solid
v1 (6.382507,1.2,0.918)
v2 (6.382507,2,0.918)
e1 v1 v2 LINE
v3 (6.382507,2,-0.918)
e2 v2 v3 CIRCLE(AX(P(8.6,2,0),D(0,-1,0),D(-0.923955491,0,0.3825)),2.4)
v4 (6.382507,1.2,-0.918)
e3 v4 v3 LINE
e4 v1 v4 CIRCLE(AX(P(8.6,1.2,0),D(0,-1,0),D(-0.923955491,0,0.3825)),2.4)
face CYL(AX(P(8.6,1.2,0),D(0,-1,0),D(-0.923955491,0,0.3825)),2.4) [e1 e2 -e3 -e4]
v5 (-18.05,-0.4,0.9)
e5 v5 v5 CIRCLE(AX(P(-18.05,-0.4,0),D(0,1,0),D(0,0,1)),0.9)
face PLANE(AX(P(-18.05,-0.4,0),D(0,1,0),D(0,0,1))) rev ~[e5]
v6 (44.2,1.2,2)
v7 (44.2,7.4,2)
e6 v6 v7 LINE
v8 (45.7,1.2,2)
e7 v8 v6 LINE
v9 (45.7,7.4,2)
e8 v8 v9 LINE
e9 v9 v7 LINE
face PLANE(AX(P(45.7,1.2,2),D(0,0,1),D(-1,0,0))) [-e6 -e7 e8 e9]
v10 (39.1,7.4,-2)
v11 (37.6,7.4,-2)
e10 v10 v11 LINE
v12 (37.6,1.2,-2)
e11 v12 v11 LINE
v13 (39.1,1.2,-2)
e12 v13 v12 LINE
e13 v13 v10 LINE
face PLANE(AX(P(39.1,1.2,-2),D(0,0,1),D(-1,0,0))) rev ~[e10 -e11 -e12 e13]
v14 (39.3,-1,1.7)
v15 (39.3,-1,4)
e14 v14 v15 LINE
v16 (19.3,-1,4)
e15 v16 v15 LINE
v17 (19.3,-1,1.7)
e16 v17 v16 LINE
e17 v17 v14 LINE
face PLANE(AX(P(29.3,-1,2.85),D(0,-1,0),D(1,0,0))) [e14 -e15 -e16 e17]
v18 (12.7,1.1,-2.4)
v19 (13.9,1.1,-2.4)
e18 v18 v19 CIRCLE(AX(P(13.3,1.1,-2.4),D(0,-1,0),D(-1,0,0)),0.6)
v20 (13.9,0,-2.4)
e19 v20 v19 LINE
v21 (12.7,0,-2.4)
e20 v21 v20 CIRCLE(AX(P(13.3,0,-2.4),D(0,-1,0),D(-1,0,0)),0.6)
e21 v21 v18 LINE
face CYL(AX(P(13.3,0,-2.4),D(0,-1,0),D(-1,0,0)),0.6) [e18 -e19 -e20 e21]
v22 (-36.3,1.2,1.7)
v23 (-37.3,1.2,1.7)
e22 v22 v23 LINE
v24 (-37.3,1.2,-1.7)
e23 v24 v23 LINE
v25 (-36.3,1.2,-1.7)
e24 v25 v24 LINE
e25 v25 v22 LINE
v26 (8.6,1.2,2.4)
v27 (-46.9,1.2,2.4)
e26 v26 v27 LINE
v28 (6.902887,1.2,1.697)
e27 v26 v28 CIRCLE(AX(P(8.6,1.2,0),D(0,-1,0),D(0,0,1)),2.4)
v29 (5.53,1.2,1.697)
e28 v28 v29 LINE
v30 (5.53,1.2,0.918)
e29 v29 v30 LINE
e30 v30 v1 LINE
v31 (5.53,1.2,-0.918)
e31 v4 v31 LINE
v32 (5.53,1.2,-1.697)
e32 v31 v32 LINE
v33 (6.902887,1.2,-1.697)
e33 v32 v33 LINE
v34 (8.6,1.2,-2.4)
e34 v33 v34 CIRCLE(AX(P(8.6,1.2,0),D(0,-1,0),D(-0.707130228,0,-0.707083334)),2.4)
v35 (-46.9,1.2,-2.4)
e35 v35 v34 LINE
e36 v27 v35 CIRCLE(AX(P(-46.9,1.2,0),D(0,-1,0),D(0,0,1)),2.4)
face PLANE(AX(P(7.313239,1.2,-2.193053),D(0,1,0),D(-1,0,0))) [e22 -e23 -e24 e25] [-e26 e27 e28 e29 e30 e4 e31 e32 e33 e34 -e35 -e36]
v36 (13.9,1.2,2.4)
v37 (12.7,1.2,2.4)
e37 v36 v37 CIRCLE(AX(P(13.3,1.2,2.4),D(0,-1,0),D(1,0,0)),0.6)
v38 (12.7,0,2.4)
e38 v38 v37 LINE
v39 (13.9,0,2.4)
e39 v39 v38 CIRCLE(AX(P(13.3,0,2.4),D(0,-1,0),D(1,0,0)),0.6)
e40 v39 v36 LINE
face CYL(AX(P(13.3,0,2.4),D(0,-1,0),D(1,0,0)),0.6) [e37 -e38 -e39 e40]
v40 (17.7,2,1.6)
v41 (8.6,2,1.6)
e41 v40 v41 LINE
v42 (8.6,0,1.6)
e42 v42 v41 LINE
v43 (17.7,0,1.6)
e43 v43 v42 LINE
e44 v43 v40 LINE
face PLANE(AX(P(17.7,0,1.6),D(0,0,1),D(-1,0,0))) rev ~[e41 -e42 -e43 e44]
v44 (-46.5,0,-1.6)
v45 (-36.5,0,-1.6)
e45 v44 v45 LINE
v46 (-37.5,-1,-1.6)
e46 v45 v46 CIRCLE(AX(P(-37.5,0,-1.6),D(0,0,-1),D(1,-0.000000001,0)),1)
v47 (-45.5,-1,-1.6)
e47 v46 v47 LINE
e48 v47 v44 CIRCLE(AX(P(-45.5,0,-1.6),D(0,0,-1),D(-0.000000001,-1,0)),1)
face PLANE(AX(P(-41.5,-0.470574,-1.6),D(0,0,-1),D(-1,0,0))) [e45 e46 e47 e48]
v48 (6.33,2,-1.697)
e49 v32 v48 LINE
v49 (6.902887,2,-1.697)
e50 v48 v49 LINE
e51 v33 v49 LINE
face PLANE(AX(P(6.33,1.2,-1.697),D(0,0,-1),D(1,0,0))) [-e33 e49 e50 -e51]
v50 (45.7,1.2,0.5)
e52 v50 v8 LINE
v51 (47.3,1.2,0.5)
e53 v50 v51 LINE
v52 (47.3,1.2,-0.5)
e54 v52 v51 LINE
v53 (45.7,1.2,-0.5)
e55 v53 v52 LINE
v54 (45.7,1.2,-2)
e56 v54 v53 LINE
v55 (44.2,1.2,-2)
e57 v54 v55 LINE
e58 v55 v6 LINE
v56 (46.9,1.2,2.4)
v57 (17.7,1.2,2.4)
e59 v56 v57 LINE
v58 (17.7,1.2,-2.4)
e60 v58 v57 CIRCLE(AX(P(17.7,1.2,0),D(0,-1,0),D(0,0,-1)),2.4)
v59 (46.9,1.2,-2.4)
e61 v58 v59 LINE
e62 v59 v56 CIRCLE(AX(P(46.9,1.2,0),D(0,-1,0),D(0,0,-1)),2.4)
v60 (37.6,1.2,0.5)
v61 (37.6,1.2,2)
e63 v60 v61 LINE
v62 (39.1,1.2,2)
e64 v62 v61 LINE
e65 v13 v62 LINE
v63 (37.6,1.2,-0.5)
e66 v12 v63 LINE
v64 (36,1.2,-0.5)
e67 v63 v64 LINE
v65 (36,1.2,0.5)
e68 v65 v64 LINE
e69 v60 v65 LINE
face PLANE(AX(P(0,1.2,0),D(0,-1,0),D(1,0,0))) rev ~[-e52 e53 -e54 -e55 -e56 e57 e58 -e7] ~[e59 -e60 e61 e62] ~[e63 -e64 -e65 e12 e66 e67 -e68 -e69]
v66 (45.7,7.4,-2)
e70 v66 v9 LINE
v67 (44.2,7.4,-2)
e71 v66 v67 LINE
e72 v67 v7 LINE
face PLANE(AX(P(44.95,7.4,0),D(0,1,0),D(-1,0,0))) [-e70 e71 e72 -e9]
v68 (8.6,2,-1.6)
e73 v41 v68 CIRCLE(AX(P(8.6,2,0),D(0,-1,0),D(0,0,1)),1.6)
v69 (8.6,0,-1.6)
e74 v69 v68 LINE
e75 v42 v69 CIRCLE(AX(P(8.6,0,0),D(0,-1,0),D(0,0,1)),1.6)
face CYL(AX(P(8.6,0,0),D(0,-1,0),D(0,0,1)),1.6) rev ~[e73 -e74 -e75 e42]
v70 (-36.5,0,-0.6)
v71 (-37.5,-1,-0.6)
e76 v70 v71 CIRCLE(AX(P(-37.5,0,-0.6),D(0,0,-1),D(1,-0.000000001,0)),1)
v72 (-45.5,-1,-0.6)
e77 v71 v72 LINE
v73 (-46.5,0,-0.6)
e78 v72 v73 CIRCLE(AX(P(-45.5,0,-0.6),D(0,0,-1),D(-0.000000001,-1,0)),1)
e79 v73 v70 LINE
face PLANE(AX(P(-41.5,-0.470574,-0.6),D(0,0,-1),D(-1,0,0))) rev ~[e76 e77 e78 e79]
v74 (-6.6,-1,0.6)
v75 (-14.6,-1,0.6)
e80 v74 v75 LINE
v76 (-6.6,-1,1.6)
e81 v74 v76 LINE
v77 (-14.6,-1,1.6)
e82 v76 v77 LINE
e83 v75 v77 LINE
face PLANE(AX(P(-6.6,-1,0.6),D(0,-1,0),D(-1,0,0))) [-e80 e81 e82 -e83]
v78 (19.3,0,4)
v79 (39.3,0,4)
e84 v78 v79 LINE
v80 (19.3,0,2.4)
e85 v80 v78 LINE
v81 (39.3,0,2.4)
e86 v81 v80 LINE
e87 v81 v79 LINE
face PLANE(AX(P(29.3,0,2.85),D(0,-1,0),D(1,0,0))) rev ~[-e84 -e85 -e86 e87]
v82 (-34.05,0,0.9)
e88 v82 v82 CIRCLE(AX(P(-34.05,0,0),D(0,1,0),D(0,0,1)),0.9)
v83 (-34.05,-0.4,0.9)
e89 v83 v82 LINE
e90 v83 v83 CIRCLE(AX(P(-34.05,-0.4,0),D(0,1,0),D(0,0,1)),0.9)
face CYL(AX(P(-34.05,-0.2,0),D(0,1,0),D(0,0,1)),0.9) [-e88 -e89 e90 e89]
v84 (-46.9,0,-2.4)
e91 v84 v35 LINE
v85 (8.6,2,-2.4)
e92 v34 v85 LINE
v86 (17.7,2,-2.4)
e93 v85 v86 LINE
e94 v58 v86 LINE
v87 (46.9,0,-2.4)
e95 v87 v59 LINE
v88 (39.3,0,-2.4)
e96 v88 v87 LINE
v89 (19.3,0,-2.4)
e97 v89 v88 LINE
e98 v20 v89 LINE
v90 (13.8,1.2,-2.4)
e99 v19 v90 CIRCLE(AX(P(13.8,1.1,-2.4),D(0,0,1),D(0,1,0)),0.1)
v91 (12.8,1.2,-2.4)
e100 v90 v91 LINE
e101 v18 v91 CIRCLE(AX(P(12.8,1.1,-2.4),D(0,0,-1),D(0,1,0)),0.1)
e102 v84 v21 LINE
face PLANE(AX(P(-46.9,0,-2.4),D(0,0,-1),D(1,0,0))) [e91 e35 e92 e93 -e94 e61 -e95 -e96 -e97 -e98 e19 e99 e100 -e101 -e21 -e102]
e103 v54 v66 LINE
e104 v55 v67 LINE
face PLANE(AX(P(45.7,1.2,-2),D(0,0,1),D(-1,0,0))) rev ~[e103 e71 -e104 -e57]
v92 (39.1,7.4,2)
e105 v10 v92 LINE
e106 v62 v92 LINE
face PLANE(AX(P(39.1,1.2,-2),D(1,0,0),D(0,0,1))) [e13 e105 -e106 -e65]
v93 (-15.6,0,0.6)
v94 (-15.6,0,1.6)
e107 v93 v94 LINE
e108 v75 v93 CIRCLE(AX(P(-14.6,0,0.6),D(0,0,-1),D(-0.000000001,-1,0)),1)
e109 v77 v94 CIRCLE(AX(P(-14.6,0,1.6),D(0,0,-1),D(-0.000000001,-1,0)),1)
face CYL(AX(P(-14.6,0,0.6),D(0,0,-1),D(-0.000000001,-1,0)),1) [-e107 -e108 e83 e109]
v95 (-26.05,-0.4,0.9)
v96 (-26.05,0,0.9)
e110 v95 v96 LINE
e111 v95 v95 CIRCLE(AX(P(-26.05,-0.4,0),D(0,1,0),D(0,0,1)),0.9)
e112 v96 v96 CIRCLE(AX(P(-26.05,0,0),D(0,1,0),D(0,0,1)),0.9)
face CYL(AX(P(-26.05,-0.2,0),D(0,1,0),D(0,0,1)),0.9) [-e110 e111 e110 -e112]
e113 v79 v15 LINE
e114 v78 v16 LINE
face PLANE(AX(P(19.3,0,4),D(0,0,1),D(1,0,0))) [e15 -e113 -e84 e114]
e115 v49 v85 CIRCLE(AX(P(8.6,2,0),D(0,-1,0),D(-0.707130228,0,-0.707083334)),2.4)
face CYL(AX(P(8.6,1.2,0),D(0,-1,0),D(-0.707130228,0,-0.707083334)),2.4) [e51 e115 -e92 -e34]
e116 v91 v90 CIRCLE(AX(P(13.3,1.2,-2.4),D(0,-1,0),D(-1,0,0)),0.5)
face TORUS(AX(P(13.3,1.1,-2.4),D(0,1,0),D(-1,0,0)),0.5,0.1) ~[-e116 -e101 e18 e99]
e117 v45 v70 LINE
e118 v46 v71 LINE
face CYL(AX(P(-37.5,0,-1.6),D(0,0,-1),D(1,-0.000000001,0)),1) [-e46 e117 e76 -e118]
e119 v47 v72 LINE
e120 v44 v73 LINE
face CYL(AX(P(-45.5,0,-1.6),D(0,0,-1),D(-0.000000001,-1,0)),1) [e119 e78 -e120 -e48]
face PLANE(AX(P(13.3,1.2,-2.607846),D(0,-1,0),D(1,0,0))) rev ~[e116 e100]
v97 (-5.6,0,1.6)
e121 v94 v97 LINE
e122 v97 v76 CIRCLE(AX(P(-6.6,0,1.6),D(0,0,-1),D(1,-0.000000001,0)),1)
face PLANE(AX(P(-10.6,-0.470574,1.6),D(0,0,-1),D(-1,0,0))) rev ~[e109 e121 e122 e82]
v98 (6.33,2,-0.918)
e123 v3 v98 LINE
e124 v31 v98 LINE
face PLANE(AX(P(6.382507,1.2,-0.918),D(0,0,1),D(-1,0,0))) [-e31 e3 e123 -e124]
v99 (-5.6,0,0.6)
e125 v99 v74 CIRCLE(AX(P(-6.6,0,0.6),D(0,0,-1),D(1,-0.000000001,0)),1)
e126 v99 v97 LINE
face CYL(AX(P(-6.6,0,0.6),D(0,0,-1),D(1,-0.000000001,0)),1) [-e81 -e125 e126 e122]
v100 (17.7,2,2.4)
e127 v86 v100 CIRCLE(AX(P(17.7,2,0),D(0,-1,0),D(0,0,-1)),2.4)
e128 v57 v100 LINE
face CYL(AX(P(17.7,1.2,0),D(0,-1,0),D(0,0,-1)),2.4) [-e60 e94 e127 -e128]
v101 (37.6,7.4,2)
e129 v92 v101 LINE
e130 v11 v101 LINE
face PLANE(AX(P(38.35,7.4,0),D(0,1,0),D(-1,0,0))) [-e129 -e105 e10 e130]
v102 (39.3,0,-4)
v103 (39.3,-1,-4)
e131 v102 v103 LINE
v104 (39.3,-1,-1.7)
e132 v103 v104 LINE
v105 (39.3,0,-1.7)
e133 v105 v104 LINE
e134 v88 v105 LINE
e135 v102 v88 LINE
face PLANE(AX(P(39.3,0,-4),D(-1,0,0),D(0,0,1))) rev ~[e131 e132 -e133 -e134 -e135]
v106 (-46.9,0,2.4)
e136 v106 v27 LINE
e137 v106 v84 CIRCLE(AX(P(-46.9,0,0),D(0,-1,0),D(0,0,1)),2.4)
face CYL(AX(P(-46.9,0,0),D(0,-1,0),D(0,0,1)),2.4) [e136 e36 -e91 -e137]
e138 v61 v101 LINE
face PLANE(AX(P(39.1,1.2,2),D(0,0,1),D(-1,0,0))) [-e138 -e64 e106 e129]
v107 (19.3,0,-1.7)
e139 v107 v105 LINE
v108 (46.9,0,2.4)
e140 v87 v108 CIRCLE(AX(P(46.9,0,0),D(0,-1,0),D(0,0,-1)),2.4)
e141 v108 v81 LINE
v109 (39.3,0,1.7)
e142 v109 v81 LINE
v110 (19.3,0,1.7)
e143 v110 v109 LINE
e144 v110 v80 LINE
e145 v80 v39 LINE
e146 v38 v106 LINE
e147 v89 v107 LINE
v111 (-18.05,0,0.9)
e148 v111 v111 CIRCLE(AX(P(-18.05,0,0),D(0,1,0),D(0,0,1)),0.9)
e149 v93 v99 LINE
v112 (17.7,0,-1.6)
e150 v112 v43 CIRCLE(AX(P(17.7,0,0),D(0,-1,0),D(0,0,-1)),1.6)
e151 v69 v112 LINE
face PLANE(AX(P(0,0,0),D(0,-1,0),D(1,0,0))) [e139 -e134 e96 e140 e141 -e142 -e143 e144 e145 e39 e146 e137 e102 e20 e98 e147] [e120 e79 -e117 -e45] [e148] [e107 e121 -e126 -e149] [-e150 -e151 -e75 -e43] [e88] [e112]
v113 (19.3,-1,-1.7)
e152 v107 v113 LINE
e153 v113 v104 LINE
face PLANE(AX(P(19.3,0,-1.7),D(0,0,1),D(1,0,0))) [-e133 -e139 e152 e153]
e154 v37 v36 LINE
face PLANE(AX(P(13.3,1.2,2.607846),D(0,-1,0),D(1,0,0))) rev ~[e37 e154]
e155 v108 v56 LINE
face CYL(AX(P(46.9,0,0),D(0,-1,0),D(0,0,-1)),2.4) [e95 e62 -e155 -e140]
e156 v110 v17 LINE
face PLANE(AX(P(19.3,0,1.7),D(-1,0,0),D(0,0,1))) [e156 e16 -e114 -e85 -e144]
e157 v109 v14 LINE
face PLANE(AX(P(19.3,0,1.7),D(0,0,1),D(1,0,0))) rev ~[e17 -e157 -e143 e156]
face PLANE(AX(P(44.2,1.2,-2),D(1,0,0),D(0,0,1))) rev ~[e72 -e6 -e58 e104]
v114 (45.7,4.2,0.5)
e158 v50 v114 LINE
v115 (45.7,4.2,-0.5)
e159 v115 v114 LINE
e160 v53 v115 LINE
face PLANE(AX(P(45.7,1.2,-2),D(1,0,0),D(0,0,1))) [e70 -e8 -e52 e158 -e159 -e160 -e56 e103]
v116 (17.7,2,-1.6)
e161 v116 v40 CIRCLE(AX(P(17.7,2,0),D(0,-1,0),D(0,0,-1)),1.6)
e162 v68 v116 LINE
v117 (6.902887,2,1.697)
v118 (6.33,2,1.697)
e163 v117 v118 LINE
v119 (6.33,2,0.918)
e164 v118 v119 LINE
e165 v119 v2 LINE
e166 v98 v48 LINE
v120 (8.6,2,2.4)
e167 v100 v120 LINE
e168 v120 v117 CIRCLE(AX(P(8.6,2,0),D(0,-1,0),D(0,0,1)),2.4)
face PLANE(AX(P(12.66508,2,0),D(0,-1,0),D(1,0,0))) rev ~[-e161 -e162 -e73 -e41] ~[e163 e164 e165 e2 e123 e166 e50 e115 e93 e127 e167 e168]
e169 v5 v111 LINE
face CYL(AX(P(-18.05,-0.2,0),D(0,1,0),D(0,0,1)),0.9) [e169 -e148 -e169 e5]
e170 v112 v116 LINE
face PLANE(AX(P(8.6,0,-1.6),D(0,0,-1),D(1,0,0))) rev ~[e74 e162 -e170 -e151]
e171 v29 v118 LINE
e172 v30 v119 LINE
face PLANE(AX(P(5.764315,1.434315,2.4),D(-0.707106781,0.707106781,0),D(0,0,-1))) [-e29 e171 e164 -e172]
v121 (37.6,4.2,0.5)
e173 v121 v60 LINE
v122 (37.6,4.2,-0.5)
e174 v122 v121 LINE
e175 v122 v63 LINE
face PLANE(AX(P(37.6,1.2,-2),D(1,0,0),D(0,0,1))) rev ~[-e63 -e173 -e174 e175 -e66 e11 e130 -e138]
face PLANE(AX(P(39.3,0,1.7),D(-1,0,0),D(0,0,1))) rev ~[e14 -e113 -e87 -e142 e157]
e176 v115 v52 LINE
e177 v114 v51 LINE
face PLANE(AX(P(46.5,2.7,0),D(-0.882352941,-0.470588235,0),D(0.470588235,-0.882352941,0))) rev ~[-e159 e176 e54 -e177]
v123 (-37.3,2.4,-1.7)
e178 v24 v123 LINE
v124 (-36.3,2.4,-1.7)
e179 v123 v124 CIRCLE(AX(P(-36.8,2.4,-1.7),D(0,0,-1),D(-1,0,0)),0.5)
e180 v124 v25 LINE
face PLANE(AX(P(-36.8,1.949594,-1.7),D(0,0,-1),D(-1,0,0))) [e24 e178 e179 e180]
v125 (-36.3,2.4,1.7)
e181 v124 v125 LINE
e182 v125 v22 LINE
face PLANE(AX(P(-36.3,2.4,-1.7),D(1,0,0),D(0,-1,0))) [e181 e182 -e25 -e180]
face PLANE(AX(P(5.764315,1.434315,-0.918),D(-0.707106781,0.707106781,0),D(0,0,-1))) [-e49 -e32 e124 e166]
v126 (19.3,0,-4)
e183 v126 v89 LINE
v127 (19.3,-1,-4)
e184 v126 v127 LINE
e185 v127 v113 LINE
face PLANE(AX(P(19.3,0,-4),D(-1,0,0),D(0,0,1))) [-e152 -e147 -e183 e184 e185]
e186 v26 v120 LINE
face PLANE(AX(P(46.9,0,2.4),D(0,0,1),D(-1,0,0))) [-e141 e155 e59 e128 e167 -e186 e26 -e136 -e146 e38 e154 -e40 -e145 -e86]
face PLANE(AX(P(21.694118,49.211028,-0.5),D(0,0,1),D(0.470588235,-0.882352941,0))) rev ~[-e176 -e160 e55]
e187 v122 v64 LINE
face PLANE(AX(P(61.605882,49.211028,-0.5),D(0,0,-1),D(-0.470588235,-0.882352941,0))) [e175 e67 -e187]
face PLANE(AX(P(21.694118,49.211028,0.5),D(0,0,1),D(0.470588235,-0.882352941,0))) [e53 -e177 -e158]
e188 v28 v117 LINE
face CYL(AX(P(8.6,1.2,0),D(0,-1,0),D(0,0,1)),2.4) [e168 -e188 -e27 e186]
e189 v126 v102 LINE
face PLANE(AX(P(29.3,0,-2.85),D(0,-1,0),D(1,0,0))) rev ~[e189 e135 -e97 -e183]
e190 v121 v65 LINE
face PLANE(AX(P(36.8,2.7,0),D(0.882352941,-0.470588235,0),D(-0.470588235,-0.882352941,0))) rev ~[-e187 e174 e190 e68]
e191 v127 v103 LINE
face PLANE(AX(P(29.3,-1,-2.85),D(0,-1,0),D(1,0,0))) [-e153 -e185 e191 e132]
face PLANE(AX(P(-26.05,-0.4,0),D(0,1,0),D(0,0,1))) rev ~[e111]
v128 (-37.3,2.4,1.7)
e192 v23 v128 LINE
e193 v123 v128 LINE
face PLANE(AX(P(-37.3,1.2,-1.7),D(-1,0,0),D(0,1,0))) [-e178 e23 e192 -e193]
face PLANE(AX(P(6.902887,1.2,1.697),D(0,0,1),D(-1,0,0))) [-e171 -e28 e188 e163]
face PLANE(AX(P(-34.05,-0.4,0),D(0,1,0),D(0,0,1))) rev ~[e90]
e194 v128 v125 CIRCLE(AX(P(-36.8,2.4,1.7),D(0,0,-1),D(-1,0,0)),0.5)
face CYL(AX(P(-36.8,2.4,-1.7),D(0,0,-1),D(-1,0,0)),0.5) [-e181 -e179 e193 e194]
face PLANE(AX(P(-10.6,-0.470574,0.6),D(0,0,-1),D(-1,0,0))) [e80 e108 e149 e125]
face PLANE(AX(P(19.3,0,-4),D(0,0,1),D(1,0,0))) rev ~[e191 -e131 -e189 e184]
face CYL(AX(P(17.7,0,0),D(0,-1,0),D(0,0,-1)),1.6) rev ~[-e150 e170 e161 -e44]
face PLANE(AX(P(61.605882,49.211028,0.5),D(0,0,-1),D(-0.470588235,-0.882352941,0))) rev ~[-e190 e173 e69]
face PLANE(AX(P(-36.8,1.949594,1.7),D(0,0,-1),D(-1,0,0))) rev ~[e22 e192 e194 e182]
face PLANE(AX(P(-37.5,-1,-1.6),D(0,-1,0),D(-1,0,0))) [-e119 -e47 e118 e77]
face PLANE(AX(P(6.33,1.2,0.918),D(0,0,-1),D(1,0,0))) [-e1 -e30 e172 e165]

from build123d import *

# Parameters (mm, degrees)
BOSS_EXTRUDE1_DEPTH  = 1.2
BOSS_EXTRUDE2_DEPTH  = 0.8
SKETCH3_W            = 20
SKETCH3_H            = 2.3
BOSS_EXTRUDE3_DEPTH  = 1
SKETCH4_W            = 20
SKETCH4_H            = 2.3
BOSS_EXTRUDE4_DEPTH  = 1
CUT_EXTRUDE1_START   = -0.8
CUT_EXTRUDE1_DEPTH   = 0.8
CUT_EXTRUDE2_START   = -0.8
CUT_EXTRUDE2_DEPTH   = 0.8
CUT_EXTRUDE3_DEPTH   = 50.502424183
BOSS_EXTRUDE5_DEPTH  = 1.2
BOSS_EXTRUDE6_DEPTH  = 1.2
SKETCH10_W           = 1.5
SKETCH10_H           = 4
BOSS_EXTRUDE7_DEPTH  = 6.2
SKETCH11_W           = 1.5
SKETCH11_H           = 4
BOSS_EXTRUDE8_DEPTH  = 6.2
BOSS_EXTRUDE9_DEPTH  = 3.4
BOSS_EXTRUDE10_DEPTH = 1
BOSS_EXTRUDE11_DEPTH = 1
DRAFT1_ANGLE         = 45
SKETCH15_W           = 0.9
SKETCH15_H           = 0.4
SKETCH16_W           = 0.9
SKETCH16_H           = 0.4
SKETCH17_W           = 0.9
SKETCH17_H           = 0.4
RIB1_REACH           = 52.012
SKETCH18_WALL_W      = 105.424996876
SKETCH18_WALL_H      = 1
RIB2_REACH           = 52.012
SKETCH19_WALL_W      = 105.424996876
SKETCH19_WALL_H      = 1
FILLET2_R            = 0.1


with BuildPart() as part:
    # Sketch1 → Boss-Extrude1 (new body)
    with BuildSketch(Plane.XZ):
        with BuildLine():
            Line((46.9, 2.4), (-46.9, 2.4))
            ThreePointArc((-46.9, 2.4), (-49.3, 0), (-46.9, -2.4))
            Line((-46.9, -2.4), (46.9, -2.4))
            ThreePointArc((46.9, -2.4), (49.3, 0), (46.9, 2.4))
        make_face()
    extrude(amount=-BOSS_EXTRUDE1_DEPTH)

    # Sketch2 → Boss-Extrude2 (add)
    with BuildSketch(Plane(origin=(0, 1.2, 0), x_dir=(-1, 0, 0), z_dir=(0, 1, 0))):
        with BuildLine():
            Line((-6.33, 2.4), (-6.33, 0.918))
            Line((-6.33, 0.918), (-6.382506821, 0.918))
            ThreePointArc((-6.382506821, 0.918), (-6.2, 0), (-6.382506821, -0.918))
            Line((-6.382506821, -0.918), (-6.33, -0.918))
            Line((-6.33, -0.918), (-6.33, -2.4))
            Line((-6.33, -2.4), (-17.7, -2.4))
            ThreePointArc((-17.7, -2.4), (-20.1, 0), (-17.7, 2.4))
            Line((-17.7, 2.4), (-6.33, 2.4))
        make_face()
    extrude(amount=BOSS_EXTRUDE2_DEPTH)

    # Sketch3 → Boss-Extrude3 (add)
    with BuildSketch(Plane.XZ):
        with Locations((29.3, 2.85)):
            Rectangle(SKETCH3_W, SKETCH3_H)
    extrude(amount=BOSS_EXTRUDE3_DEPTH)

    # Sketch4 → Boss-Extrude4 (add)
    with BuildSketch(Plane.XZ):
        with Locations((29.3, -2.85)):
            Rectangle(SKETCH4_W, SKETCH4_H)
    extrude(amount=BOSS_EXTRUDE4_DEPTH)

    # Sketch5 → Cut-Extrude1 (cut)
    with BuildSketch(Plane(origin=(0, 2, 0), x_dir=(-1, 0, 0), z_dir=(0, 1, 0)).offset(CUT_EXTRUDE1_START)):
        with BuildLine():
            Line((-8.6, -2.4), (-6.33, -2.4))
            Line((-6.33, -2.4), (-6.33, -1.697))
            Line((-6.33, -1.697), (-6.902887452, -1.697))
            ThreePointArc((-6.902887452, -1.697), (-7.681523, -2.21729565), (-8.6, -2.4))
        make_face()
    extrude(amount=CUT_EXTRUDE1_DEPTH, mode=Mode.SUBTRACT)

    # Sketch6 → Cut-Extrude2 (cut)
    with BuildSketch(Plane(origin=(0, 2, 0), x_dir=(-1, 0, 0), z_dir=(0, 1, 0)).offset(CUT_EXTRUDE2_START)):
        with BuildLine():
            Line((-6.902887452, 1.697), (-6.33, 1.697))
            Line((-6.33, 1.697), (-6.33, 2.4))
            Line((-6.33, 2.4), (-8.6, 2.4))
            ThreePointArc((-8.6, 2.4), (-7.681523, 2.21729565), (-6.902887452, 1.697))
        make_face()
    extrude(amount=CUT_EXTRUDE2_DEPTH, mode=Mode.SUBTRACT)

    # Sketch7 → Cut-Extrude3 (cut, through all)
    with BuildSketch(Plane.XZ):
        with BuildLine():
            Line((17.7, 1.6), (8.6, 1.6))
            ThreePointArc((8.6, 1.6), (7, 0), (8.6, -1.6))
            Line((8.6, -1.6), (17.7, -1.6))
            ThreePointArc((17.7, -1.6), (19.3, 0), (17.7, 1.6))
        make_face()
    extrude(amount=-CUT_EXTRUDE3_DEPTH, mode=Mode.SUBTRACT)

    # Sketch8 → Boss-Extrude5 (add)
    with BuildSketch(Plane.XZ):
        with BuildLine():
            Line((12.7, 2.4), (13.9, 2.4))
            ThreePointArc((13.9, 2.4), (13.3, 3), (12.7, 2.4))
        make_face()
    extrude(amount=-BOSS_EXTRUDE5_DEPTH)

    # Sketch9 → Boss-Extrude6 (add)
    with BuildSketch(Plane.XZ):
        with BuildLine():
            Line((13.9, -2.4), (12.7, -2.4))
            ThreePointArc((12.7, -2.4), (13.3, -3), (13.9, -2.4))
        make_face()
    extrude(amount=-BOSS_EXTRUDE6_DEPTH)

    # Sketch10 → Boss-Extrude7 (add)
    with BuildSketch(Plane(origin=(0, 1.2, 0), x_dir=(-1, 0, 0), z_dir=(0, 1, 0))):
        with Locations((-38.35, 0)):
            Rectangle(SKETCH10_W, SKETCH10_H)
    extrude(amount=BOSS_EXTRUDE7_DEPTH)

    # Sketch11 → Boss-Extrude8 (add)
    with BuildSketch(Plane(origin=(0, 1.2, 0), x_dir=(-1, 0, 0), z_dir=(0, 1, 0))):
        with Locations((-44.95, 0)):
            Rectangle(SKETCH11_W, SKETCH11_H)
    extrude(amount=BOSS_EXTRUDE8_DEPTH)

    # Sketch12 → Boss-Extrude9 (add)
    with BuildSketch(Plane(origin=(0, 0, -1.7), x_dir=(-1, 0, 0), z_dir=(0, 0, -1))):
        with BuildLine():
            Line((36.3, 1.2), (37.3, 1.2))
            Line((37.3, 1.2), (37.3, 2.4))
            ThreePointArc((37.3, 2.4), (36.8, 2.9), (36.3, 2.4))
            Line((36.3, 2.4), (36.3, 1.2))
        make_face()
    extrude(amount=-BOSS_EXTRUDE9_DEPTH)

    # Sketch13 → Boss-Extrude10 (add)
    with BuildSketch(Plane(origin=(0, 0, -1.6), x_dir=(-1, 0, 0), z_dir=(0, 0, -1))):
        with BuildLine():
            Line((46.5, 0), (36.5, 0))
            ThreePointArc((36.5, 0), (36.792893219, -0.707106781), (37.5, -1))
            Line((37.5, -1), (45.5, -1))
            ThreePointArc((45.5, -1), (46.207106781, -0.707106781), (46.5, 0))
        make_face()
    extrude(amount=-BOSS_EXTRUDE10_DEPTH)

    # Sketch14 → Boss-Extrude11 (add)
    with BuildSketch(Plane(origin=(0, 0, 0.6), x_dir=(-1, 0, 0), z_dir=(0, 0, -1))):
        with BuildLine():
            Line((15.6, 0), (5.6, 0))
            ThreePointArc((5.6, 0), (5.892893219, -0.707106781), (6.6, -1))
            Line((6.6, -1), (14.6, -1))
            ThreePointArc((14.6, -1), (15.307106781, -0.707106781), (15.6, 0))
        make_face()
    extrude(amount=-BOSS_EXTRUDE11_DEPTH)

    # Draft1
    draft1_faces = [part.faces().sort_by_distance(p)[0] for p in [
        (6.33, 1.6, -1.3075),
        (6.33, 1.6, 1.3075),
    ]]
    draft(draft1_faces, Plane(origin=(8.6, 2, 0), x_dir=(1, 0, 0), z_dir=(0, 1, 0)), DRAFT1_ANGLE)

    # Sketch15 → Revolve1 (revolve)
    with BuildSketch(Plane(origin=(0, 0, 0), x_dir=(-1, 0, 0), z_dir=(0, 0, -1)), mode=Mode.PRIVATE) as revolve1_sk:
        with Locations((25.6, -0.2)):
            Rectangle(SKETCH15_W, SKETCH15_H)
    revolve(revolve1_sk.sketch.rotate(Axis((-26.05, -0.4, 0), (0, 1, 0)), 270), axis=Axis((-26.05, -0.4, 0), (0, 1, 0)))

    # Sketch16 → Revolve2 (revolve)
    with BuildSketch(Plane(origin=(0, 0, 0), x_dir=(-1, 0, 0), z_dir=(0, 0, -1)), mode=Mode.PRIVATE) as revolve2_sk:
        with Locations((33.6, -0.2)):
            Rectangle(SKETCH16_W, SKETCH16_H)
    revolve(revolve2_sk.sketch.rotate(Axis((-34.05, -0.4, 0), (0, 1, 0)), 270), axis=Axis((-34.05, -0.4, 0), (0, 1, 0)))

    # Sketch17 → Revolve3 (revolve)
    with BuildSketch(Plane(origin=(0, 0, 0), x_dir=(-1, 0, 0), z_dir=(0, 0, -1)), mode=Mode.PRIVATE) as revolve3_sk:
        with Locations((17.6, -0.2)):
            Rectangle(SKETCH17_W, SKETCH17_H)
    revolve(revolve3_sk.sketch.rotate(Axis((-18.05, -0.4, 0), (0, 1, 0)), 270), axis=Axis((-18.05, -0.4, 0), (0, 1, 0)))

    # Sketch18 wall → Rib1 (add, up to next)
    with BuildSketch(Plane(origin=(46.5, 2.7, 0), x_dir=(0.470588235294, -0.882352941176, 0), z_dir=(-0.882352941176, -0.470588235294, 0)), mode=Mode.PRIVATE) as rib1_sk1:
        Rectangle(SKETCH18_WALL_W, SKETCH18_WALL_H)
    rib1_tool1 = extrude(rib1_sk1.sketch, amount=RIB1_REACH, mode=Mode.PRIVATE) - part.part
    add(rib1_tool1.solids().sort_by_distance((46.5, 2.7, 0))[0])

    # Sketch19 wall → Rib2 (add, up to next)
    with BuildSketch(Plane(origin=(36.8, 2.7, 0), x_dir=(-0.470588235294, -0.882352941176, 0), z_dir=(0.882352941176, -0.470588235294, 0)), mode=Mode.PRIVATE) as rib2_sk1:
        Rectangle(SKETCH19_WALL_W, SKETCH19_WALL_H)
    rib2_tool1 = extrude(rib2_sk1.sketch, amount=RIB2_REACH, mode=Mode.PRIVATE) - part.part
    add(rib2_tool1.solids().sort_by_distance((36.8, 2.7, 0))[0])

    # Fillet2
    fillet2_edges = [part.edges().sort_by_distance(p)[0] for p in [
        (13.3, 1.2, -3),
    ]]
    fillet(fillet2_edges, radius=FILLET2_R)


solid = part.part
